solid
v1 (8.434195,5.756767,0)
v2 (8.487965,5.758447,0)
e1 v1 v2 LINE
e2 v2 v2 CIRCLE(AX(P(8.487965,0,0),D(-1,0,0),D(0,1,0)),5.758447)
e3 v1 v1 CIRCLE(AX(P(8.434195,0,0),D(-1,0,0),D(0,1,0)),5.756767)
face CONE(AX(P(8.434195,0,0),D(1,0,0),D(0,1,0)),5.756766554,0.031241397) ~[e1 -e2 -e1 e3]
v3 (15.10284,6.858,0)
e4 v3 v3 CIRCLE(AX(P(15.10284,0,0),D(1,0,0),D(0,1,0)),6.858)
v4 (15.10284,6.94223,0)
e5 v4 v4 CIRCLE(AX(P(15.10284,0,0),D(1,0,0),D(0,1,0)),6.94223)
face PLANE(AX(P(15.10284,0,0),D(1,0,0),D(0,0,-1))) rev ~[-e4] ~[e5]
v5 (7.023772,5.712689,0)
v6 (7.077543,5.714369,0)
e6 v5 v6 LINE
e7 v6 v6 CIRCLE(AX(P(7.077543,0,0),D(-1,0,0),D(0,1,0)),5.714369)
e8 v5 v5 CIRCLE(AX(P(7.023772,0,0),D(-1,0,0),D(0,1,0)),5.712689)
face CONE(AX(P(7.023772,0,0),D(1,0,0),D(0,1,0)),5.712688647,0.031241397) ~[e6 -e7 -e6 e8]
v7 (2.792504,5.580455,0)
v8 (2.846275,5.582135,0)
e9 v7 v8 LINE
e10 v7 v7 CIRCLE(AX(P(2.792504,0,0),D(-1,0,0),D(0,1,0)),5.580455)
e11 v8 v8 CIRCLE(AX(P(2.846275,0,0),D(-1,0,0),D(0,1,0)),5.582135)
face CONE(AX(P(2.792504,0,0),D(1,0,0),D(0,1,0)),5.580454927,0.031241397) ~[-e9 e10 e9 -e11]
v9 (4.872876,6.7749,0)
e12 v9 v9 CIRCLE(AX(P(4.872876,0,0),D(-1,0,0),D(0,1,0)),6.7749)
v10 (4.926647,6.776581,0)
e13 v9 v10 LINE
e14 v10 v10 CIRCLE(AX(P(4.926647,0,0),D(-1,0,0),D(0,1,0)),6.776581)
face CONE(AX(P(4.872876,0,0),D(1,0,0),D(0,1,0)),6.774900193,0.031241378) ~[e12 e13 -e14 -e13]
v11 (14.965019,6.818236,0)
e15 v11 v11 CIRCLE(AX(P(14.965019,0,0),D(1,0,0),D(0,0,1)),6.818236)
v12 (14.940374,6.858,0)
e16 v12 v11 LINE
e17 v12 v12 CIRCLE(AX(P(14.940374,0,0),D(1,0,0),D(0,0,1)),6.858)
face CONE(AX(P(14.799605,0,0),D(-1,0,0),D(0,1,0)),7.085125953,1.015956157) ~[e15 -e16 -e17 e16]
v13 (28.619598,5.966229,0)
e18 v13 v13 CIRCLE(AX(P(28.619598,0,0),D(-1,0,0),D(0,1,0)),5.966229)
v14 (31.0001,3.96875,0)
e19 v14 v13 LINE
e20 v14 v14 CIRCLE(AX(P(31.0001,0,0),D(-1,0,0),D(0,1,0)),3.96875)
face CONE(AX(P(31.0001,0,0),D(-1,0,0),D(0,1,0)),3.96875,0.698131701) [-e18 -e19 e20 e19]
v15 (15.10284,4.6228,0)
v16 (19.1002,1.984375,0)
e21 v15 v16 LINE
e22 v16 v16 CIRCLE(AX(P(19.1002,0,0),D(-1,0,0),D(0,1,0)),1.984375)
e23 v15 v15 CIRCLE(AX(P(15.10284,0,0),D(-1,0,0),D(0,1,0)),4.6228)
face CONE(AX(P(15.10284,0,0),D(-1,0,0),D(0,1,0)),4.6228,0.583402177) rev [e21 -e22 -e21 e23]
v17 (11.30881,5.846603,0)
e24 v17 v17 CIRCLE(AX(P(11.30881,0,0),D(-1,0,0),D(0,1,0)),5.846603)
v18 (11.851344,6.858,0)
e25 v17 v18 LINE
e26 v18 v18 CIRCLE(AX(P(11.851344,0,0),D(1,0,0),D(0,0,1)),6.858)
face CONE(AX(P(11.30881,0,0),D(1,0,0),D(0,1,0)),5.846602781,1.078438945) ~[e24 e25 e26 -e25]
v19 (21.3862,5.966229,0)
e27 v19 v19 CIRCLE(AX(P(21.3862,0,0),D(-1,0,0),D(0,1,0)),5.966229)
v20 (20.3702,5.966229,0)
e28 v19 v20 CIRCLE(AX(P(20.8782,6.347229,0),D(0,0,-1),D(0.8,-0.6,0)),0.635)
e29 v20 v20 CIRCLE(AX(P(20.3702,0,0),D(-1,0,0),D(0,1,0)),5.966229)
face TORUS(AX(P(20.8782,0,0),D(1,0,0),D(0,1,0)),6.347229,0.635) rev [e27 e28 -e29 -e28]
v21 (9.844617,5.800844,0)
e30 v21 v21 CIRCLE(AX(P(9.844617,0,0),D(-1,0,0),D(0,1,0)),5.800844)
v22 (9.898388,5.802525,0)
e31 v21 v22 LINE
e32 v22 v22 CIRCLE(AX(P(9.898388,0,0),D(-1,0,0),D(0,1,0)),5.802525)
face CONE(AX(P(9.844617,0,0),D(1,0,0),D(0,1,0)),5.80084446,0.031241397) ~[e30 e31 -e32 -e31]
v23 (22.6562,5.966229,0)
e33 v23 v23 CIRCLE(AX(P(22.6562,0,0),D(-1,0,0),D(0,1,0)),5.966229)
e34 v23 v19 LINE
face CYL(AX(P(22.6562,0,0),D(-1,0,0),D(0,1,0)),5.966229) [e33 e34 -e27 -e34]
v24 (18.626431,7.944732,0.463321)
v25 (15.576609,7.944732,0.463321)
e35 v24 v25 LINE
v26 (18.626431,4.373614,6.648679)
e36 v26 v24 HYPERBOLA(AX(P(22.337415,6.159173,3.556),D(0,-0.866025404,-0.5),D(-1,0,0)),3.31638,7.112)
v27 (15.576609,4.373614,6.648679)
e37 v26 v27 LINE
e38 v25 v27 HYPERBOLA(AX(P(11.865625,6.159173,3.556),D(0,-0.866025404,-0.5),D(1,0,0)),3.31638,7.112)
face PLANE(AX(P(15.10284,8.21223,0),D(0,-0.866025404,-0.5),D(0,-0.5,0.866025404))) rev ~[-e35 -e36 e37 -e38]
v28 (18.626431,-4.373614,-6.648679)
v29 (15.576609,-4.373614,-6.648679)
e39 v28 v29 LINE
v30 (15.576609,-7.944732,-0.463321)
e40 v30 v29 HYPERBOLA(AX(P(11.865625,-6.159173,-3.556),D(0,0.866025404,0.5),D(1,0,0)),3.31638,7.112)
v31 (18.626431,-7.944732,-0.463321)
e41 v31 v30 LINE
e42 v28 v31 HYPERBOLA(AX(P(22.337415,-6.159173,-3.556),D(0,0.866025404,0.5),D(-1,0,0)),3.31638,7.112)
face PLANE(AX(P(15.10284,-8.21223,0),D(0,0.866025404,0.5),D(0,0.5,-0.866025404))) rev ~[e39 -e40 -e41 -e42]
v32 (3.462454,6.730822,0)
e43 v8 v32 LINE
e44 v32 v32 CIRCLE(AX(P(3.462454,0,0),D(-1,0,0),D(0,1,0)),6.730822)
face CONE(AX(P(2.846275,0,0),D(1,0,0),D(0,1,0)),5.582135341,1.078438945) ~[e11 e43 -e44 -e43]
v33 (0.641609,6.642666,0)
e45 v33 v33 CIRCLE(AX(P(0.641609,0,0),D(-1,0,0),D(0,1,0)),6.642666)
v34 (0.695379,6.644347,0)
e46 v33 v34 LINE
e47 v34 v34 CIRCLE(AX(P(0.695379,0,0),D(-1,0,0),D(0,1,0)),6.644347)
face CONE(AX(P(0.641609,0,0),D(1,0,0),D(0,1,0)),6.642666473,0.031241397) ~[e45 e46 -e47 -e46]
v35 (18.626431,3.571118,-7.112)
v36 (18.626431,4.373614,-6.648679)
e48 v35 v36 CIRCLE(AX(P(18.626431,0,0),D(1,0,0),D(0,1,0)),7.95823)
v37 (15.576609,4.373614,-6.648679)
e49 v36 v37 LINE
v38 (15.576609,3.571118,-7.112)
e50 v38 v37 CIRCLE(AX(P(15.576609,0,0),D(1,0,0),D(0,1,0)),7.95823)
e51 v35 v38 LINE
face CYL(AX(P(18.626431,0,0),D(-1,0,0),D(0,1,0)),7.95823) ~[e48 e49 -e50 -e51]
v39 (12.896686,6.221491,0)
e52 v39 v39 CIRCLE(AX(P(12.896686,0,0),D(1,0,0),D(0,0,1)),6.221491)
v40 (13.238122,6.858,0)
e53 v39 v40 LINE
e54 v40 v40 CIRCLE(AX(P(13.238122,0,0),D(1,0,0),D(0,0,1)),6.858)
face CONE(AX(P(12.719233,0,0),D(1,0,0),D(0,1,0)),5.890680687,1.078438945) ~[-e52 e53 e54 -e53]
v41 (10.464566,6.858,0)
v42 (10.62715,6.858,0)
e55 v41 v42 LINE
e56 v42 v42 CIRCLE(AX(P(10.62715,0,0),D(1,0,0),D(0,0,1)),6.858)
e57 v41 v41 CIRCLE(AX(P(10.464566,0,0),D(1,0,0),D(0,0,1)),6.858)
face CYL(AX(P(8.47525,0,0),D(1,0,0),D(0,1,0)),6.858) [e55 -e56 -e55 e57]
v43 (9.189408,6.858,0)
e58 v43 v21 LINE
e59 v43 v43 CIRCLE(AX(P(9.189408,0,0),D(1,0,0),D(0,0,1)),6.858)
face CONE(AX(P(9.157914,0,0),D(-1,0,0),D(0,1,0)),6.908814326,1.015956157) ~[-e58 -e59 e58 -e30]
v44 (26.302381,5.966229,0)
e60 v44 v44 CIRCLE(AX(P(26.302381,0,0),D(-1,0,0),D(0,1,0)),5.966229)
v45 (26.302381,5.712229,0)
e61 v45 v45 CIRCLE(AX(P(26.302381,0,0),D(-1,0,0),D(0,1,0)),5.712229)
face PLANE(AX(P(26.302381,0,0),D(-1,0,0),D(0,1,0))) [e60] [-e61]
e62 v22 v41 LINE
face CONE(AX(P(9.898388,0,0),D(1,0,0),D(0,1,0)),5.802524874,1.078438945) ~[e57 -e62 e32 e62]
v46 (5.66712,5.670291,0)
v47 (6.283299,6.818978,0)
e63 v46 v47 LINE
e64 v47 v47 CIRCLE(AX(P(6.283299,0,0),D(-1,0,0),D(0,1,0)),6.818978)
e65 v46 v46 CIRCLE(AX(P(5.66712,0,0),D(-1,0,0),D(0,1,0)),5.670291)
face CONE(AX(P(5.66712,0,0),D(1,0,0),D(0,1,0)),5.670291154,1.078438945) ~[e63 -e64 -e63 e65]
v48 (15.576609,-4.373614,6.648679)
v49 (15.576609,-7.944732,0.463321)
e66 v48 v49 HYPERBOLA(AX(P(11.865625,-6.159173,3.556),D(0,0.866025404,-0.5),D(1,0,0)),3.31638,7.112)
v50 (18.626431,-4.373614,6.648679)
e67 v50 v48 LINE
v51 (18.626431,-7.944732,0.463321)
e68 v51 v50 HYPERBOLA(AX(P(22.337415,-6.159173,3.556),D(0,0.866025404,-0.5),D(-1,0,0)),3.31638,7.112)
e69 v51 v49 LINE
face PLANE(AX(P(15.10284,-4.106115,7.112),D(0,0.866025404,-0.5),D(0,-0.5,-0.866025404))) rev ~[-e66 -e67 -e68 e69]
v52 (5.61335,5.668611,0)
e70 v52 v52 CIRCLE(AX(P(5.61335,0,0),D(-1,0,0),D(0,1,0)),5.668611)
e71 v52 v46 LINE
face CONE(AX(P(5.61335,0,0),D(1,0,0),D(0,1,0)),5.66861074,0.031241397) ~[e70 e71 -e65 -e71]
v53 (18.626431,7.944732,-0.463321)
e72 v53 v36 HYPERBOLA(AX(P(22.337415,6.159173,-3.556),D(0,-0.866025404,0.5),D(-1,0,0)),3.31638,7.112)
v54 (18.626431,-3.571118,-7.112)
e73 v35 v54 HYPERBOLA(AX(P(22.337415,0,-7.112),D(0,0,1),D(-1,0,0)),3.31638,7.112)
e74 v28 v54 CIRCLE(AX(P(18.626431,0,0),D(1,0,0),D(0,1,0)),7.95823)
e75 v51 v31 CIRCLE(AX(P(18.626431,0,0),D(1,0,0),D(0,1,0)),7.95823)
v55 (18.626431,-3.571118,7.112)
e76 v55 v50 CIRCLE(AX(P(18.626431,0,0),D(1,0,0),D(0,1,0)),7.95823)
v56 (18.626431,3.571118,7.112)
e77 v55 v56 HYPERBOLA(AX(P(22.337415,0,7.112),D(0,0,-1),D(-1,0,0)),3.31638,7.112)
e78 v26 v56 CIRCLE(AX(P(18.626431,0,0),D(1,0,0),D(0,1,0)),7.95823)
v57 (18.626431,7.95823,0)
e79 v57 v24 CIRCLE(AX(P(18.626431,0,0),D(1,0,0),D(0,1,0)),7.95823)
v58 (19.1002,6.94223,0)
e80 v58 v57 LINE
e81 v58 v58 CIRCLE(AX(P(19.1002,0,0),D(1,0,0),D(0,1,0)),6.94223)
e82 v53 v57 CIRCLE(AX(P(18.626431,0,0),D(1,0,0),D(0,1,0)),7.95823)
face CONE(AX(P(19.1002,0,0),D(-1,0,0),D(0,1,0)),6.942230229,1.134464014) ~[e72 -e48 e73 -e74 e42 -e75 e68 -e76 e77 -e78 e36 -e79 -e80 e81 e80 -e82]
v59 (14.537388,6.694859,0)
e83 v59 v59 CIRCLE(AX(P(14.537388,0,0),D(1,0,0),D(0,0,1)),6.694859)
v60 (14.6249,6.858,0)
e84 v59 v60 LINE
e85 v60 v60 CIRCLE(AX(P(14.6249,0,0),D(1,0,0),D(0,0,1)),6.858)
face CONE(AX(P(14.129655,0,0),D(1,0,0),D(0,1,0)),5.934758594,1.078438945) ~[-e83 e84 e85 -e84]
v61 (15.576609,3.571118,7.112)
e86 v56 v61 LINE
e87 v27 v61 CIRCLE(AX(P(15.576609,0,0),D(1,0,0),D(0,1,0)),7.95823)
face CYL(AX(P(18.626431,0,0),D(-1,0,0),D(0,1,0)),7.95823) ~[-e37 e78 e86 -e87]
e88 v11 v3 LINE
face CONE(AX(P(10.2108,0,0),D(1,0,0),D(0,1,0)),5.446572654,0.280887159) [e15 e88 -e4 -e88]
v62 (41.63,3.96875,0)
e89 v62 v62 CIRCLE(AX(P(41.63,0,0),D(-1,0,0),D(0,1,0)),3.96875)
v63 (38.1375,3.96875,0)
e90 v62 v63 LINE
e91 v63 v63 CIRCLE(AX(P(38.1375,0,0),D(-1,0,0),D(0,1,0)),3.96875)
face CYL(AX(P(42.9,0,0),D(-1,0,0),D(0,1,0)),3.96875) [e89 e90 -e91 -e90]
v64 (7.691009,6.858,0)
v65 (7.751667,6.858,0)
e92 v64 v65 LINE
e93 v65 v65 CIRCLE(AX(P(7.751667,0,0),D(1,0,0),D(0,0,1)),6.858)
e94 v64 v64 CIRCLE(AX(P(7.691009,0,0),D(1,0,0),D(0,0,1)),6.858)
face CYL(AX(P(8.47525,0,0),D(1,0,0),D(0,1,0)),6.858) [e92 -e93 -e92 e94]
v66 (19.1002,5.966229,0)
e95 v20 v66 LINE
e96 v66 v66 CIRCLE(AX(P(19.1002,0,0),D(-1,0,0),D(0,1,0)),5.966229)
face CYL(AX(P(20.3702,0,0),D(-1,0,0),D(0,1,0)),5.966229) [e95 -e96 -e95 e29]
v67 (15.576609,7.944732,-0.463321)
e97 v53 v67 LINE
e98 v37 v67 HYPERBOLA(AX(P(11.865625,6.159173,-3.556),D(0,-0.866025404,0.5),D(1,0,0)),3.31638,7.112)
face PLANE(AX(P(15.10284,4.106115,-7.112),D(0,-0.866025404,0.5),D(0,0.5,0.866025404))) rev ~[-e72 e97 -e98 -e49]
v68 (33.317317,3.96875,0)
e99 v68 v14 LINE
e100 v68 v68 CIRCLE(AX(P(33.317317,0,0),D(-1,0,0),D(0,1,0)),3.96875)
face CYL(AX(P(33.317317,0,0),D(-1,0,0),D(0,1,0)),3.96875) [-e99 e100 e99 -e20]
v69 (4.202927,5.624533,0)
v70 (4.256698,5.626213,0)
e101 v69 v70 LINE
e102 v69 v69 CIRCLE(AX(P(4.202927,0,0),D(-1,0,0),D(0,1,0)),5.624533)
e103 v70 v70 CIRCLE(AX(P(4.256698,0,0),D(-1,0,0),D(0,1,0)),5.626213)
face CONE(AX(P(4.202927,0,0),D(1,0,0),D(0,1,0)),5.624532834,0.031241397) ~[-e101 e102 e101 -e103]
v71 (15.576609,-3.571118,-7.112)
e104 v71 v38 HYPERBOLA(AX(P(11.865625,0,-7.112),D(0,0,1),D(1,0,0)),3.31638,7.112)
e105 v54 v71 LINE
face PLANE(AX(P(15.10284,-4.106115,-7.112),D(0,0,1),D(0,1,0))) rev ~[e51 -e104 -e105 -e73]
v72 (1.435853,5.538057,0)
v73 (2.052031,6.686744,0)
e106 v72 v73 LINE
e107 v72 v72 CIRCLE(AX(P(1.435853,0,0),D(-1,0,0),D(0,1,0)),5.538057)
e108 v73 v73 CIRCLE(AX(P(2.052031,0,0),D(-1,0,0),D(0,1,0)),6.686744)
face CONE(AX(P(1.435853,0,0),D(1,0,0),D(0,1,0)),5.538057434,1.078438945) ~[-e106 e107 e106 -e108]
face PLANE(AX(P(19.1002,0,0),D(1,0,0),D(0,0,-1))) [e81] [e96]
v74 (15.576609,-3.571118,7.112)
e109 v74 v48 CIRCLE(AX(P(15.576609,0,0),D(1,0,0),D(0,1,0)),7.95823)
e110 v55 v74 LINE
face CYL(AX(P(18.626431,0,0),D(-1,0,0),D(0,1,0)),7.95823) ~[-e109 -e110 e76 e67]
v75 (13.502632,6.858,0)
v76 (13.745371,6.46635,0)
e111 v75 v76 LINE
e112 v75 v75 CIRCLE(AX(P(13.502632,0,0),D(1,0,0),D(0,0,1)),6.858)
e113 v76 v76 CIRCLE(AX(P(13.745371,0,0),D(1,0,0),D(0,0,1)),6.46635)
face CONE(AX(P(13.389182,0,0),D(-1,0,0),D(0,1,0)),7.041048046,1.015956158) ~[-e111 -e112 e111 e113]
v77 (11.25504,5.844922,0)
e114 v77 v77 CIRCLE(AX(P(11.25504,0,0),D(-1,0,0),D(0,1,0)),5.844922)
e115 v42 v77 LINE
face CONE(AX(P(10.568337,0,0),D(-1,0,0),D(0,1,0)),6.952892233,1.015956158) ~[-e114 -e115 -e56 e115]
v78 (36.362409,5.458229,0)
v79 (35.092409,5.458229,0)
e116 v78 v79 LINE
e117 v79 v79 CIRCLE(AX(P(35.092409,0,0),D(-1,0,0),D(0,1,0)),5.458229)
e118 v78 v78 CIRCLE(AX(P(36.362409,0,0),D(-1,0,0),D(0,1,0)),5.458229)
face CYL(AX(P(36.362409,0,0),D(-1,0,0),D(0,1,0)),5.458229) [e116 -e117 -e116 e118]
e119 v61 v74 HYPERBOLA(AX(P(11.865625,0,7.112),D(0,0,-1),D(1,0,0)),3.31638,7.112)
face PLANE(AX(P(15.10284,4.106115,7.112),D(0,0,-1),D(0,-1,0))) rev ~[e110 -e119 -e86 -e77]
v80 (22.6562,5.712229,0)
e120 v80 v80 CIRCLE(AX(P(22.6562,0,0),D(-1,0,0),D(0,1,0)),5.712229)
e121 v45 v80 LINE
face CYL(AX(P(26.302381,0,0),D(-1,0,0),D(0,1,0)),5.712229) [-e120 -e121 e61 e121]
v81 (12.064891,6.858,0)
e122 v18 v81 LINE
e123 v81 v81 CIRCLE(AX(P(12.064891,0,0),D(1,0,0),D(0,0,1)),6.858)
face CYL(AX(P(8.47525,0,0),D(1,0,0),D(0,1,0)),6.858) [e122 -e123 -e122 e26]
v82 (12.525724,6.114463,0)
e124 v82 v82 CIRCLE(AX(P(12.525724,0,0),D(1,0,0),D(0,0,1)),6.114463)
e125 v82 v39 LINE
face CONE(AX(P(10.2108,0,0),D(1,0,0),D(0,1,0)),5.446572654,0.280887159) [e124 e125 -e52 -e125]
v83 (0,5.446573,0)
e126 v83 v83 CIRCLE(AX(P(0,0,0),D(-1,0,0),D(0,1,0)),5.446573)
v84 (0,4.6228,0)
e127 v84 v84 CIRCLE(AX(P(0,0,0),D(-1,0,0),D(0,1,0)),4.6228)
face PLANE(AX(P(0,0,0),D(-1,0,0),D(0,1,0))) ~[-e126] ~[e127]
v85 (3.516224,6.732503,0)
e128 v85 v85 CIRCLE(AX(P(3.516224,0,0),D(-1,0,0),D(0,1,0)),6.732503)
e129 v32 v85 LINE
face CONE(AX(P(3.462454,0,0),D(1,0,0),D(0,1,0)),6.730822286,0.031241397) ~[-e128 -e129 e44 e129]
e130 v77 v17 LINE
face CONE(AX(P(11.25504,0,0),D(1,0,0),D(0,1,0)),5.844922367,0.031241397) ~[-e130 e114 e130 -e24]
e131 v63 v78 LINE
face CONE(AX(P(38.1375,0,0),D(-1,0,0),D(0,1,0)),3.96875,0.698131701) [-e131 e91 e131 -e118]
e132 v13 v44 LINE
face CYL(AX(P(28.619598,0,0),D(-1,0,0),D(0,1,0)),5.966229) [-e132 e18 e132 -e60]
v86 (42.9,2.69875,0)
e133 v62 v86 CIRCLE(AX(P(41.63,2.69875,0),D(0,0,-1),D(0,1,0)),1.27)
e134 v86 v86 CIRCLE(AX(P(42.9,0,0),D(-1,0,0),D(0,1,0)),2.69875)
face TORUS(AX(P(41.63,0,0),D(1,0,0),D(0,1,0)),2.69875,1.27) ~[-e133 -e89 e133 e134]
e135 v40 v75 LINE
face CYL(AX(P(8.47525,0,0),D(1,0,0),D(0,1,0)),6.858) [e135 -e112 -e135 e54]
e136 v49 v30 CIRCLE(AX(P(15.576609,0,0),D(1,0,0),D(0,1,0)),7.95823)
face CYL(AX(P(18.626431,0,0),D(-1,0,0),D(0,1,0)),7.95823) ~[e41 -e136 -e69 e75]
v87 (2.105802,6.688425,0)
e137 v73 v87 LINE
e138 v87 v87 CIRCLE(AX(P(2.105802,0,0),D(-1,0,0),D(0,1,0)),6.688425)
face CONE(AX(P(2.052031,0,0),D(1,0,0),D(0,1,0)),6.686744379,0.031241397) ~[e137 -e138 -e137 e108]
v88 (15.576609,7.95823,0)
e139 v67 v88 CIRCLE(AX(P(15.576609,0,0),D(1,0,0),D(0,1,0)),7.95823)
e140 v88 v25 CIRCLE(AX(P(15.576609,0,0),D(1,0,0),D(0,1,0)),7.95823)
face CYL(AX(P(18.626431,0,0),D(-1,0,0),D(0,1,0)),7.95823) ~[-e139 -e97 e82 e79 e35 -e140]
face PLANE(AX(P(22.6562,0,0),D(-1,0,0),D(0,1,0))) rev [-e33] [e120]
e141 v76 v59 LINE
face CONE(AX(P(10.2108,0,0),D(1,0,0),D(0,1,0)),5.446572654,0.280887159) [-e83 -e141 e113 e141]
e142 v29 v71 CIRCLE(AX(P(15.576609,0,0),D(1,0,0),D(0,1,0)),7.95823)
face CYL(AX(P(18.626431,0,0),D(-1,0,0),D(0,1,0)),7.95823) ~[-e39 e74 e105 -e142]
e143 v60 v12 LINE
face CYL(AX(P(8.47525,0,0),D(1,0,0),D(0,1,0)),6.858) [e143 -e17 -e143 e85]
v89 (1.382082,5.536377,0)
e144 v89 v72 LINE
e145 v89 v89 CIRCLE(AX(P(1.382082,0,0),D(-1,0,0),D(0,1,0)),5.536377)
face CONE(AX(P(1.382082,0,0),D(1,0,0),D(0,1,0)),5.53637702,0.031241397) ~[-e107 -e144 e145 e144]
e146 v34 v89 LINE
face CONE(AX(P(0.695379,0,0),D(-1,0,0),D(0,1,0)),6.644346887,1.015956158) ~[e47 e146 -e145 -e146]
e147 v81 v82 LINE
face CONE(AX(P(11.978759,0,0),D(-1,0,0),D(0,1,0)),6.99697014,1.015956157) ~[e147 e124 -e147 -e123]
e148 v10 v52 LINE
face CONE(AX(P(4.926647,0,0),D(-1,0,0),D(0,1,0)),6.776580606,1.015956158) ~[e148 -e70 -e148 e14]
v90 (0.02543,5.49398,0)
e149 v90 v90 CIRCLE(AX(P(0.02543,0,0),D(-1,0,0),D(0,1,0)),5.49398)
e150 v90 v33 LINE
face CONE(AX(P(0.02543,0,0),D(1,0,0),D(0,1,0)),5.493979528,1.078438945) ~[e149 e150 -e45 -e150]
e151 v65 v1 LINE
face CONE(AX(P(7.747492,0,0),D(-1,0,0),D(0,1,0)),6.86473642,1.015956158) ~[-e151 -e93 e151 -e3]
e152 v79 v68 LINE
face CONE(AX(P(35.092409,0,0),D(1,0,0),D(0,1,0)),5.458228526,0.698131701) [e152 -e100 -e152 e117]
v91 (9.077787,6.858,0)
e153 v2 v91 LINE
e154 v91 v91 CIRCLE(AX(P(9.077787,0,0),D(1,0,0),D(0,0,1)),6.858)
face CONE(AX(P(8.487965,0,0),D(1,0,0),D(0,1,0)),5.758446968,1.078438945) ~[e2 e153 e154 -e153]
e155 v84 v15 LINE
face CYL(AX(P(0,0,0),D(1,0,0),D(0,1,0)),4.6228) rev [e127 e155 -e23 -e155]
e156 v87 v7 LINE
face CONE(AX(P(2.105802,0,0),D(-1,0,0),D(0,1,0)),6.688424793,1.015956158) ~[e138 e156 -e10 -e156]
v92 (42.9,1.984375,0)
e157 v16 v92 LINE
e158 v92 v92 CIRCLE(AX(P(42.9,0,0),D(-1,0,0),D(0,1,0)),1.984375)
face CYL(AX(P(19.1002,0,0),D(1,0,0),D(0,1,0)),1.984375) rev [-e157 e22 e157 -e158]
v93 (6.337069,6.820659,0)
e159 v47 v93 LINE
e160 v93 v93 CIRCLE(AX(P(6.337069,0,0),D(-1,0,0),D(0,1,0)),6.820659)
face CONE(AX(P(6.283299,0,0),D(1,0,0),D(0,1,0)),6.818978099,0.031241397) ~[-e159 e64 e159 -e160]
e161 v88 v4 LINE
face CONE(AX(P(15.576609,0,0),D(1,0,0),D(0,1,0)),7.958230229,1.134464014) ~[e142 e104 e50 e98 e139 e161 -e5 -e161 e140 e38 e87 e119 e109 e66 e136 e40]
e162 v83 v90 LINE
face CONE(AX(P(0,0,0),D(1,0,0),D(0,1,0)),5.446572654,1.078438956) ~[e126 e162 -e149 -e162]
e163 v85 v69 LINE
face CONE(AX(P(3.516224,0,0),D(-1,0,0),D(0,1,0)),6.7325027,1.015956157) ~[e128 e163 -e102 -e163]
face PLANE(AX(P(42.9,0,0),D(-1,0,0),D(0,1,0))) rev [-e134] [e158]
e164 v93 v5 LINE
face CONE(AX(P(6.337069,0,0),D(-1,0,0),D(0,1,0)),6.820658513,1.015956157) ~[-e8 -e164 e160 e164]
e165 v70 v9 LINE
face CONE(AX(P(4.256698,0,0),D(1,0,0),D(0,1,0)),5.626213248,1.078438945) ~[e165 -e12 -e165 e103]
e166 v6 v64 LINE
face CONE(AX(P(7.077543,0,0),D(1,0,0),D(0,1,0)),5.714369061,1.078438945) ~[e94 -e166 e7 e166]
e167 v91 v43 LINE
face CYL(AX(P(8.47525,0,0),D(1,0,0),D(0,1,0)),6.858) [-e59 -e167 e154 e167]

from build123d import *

# Parameters (mm, degrees)
SKETCH6_W      = 16.950500326
SKETCH6_H      = 13.781908613
EXTRUDE1_DEPTH = 3.99736
FILLET1_R      = 1.27


with BuildPart() as part:
    # Sketch1 → Revolve1 (revolve)
    with BuildSketch(Plane.XY):
        Polygon((0, 0), (0, 5.446572654), (0.025429996, 5.493979528), (0.64160868, 6.642666473), (0.695379235, 6.644346887), (1.382081969, 5.53637702), (1.435852524, 5.538057434), (2.052031208, 6.686744379), (2.105801763, 6.688424793), (2.792504496, 5.580454927), (2.846275051, 5.582135341), (3.462453735, 6.730822286), (3.51622429, 6.7325027), (4.202927024, 5.624532834), (4.256697579, 5.626213248), (4.872876263, 6.774900193), (4.926646818, 6.776580606), (5.613349551, 5.66861074), (5.667120106, 5.670291154), (6.28329879, 6.818978099), (6.337069345, 6.820658513), (7.023772079, 5.712688647), (7.077542634, 5.714369061), (7.693721318, 6.863056006), (7.747491873, 6.86473642), (8.434194606, 5.756766554), (8.487965161, 5.758446968), (9.104143845, 6.907133913), (9.1579144, 6.908814326), (9.844617134, 5.80084446), (9.898387689, 5.802524874), (10.514566373, 6.951211819), (10.568336928, 6.952892233), (11.255039661, 5.844922367), (11.308810216, 5.846602781), (11.9249889, 6.995289726), (11.978759455, 6.99697014), (12.665462189, 5.889000274), (12.719232744, 5.890680687), (13.335411428, 7.039367633), (13.389181983, 7.041048046), (14.075884716, 5.93307818), (14.129655271, 5.934758594), (14.745833955, 7.083445539), (14.79960451, 7.085125953), (15.486307244, 5.977156087), (15.540077799, 5.978836501), (16.156256483, 7.127523446), (16.210027038, 7.12920386), (16.896729771, 6.021233994), (16.950500326, 6.022914407), (16.950500326, 0), align=None)
    revolve(axis=Axis((0, 0, 0), (-1, 0, 0)))

    # Sketch5 → Cut-Revolve2 (revolve, cut)
    with BuildSketch(Plane.XY):
        Polygon((15.10284, 0), (15.10284, 7.094602536), (16.950500326, 7.152344806), (16.950500326, 0), align=None)
    revolve(axis=Axis((0, 0, 0), (-1, 0, 0)), mode=Mode.SUBTRACT)

    # Sketch6 → Cut-Revolve3 (revolve, cut)
    with BuildSketch(Plane.XY):
        with Locations((8.475250163, 13.748954307)):
            Rectangle(SKETCH6_W, SKETCH6_H)
    revolve(axis=Axis((0, 0, 0), (1, 0, 0)), mode=Mode.SUBTRACT)

    # Sketch7 → Revolve2 (revolve)
    with BuildSketch(Plane.XY):
        Polygon((10.2108, 5.446572654), (15.10284, 6.858), (15.10284, 5.446572654), align=None)
    revolve(axis=Axis((0, 0, 0), (1, 0, 0)))

    # Sketch8 → Extrude1 (add)
    with BuildSketch(Plane(origin=(15.10284, 0, 0), x_dir=(0, 0, -1), z_dir=(1, 0, 0))):
        Polygon((0, 8.212230229), (-7.112, 4.106115114), (-7.112, -4.106115114), (0, -8.212230229), (7.112, -4.106115114), (7.112, 4.106115114), align=None)
    extrude(amount=EXTRUDE1_DEPTH)

    # Sketch9 → Cut-Revolve4 (revolve, cut)
    with BuildSketch(Plane.XY):
        Polygon((19.1002, 6.942230229), (18.626431419, 7.958230229), (15.576608581, 7.958230229), (15.10284, 6.942230229), (15.10284, 8.212230229), (19.1002, 8.212230229), align=None)
    revolve(axis=Axis((0, 0, 0), (1, 0, 0)), mode=Mode.SUBTRACT)

    # Sketch10 → Revolve3 (revolve)
    with BuildSketch(Plane.XY):
        with BuildLine():
            Line((19.1002, 0), (42.9, 0))
            Line((42.9, 0), (42.9, 3.96875))
            Line((42.9, 3.96875), (38.1375, 3.96875))
            Line((38.1375, 3.96875), (36.362408616, 5.458228526))
            Line((36.362408616, 5.458228526), (35.092408616, 5.458228526))
            Line((35.092408616, 5.458228526), (33.317317232, 3.96875))
            Line((33.317317232, 3.96875), (31.0001, 3.96875))
            Line((31.0001, 3.96875), (28.619597791, 5.966228526))
            Line((28.619597791, 5.966228526), (26.302380559, 5.966228526))
            Line((26.302380559, 5.966228526), (26.302380559, 5.712228526))
            Line((26.302380559, 5.712228526), (22.6562, 5.712228526))
            Line((22.6562, 5.712228526), (22.6562, 5.966228526))
            Line((22.6562, 5.966228526), (21.3862, 5.966228526))
            ThreePointArc((21.3862, 5.966228526), (20.8782, 5.712228526), (20.3702, 5.966228526))
            Line((20.3702, 5.966228526), (19.1002, 5.966228526))
            Line((19.1002, 5.966228526), (19.1002, 0))
        make_face()
    revolve(axis=Axis((0, 0, 0), (-1, 0, 0)))

    # Fillet1
    fillet1_edges = [part.edges().sort_by_distance(p)[0] for p in [
        (42.9, -3.96875, 0),
    ]]
    fillet(fillet1_edges, radius=FILLET1_R)

    # Sketch11 → Cut-Revolve5 (revolve, cut)
    with BuildSketch(Plane.XY):
        Polygon((15.10284, 4.6228), (19.1002, 1.984375), (42.9, 1.984375), (42.9, 0), (10.2108, 0), (0, 0), (0, 4.6228), align=None)
    revolve(axis=Axis((0, 0, 0), (-1, 0, 0)), mode=Mode.SUBTRACT)


solid = part.part
